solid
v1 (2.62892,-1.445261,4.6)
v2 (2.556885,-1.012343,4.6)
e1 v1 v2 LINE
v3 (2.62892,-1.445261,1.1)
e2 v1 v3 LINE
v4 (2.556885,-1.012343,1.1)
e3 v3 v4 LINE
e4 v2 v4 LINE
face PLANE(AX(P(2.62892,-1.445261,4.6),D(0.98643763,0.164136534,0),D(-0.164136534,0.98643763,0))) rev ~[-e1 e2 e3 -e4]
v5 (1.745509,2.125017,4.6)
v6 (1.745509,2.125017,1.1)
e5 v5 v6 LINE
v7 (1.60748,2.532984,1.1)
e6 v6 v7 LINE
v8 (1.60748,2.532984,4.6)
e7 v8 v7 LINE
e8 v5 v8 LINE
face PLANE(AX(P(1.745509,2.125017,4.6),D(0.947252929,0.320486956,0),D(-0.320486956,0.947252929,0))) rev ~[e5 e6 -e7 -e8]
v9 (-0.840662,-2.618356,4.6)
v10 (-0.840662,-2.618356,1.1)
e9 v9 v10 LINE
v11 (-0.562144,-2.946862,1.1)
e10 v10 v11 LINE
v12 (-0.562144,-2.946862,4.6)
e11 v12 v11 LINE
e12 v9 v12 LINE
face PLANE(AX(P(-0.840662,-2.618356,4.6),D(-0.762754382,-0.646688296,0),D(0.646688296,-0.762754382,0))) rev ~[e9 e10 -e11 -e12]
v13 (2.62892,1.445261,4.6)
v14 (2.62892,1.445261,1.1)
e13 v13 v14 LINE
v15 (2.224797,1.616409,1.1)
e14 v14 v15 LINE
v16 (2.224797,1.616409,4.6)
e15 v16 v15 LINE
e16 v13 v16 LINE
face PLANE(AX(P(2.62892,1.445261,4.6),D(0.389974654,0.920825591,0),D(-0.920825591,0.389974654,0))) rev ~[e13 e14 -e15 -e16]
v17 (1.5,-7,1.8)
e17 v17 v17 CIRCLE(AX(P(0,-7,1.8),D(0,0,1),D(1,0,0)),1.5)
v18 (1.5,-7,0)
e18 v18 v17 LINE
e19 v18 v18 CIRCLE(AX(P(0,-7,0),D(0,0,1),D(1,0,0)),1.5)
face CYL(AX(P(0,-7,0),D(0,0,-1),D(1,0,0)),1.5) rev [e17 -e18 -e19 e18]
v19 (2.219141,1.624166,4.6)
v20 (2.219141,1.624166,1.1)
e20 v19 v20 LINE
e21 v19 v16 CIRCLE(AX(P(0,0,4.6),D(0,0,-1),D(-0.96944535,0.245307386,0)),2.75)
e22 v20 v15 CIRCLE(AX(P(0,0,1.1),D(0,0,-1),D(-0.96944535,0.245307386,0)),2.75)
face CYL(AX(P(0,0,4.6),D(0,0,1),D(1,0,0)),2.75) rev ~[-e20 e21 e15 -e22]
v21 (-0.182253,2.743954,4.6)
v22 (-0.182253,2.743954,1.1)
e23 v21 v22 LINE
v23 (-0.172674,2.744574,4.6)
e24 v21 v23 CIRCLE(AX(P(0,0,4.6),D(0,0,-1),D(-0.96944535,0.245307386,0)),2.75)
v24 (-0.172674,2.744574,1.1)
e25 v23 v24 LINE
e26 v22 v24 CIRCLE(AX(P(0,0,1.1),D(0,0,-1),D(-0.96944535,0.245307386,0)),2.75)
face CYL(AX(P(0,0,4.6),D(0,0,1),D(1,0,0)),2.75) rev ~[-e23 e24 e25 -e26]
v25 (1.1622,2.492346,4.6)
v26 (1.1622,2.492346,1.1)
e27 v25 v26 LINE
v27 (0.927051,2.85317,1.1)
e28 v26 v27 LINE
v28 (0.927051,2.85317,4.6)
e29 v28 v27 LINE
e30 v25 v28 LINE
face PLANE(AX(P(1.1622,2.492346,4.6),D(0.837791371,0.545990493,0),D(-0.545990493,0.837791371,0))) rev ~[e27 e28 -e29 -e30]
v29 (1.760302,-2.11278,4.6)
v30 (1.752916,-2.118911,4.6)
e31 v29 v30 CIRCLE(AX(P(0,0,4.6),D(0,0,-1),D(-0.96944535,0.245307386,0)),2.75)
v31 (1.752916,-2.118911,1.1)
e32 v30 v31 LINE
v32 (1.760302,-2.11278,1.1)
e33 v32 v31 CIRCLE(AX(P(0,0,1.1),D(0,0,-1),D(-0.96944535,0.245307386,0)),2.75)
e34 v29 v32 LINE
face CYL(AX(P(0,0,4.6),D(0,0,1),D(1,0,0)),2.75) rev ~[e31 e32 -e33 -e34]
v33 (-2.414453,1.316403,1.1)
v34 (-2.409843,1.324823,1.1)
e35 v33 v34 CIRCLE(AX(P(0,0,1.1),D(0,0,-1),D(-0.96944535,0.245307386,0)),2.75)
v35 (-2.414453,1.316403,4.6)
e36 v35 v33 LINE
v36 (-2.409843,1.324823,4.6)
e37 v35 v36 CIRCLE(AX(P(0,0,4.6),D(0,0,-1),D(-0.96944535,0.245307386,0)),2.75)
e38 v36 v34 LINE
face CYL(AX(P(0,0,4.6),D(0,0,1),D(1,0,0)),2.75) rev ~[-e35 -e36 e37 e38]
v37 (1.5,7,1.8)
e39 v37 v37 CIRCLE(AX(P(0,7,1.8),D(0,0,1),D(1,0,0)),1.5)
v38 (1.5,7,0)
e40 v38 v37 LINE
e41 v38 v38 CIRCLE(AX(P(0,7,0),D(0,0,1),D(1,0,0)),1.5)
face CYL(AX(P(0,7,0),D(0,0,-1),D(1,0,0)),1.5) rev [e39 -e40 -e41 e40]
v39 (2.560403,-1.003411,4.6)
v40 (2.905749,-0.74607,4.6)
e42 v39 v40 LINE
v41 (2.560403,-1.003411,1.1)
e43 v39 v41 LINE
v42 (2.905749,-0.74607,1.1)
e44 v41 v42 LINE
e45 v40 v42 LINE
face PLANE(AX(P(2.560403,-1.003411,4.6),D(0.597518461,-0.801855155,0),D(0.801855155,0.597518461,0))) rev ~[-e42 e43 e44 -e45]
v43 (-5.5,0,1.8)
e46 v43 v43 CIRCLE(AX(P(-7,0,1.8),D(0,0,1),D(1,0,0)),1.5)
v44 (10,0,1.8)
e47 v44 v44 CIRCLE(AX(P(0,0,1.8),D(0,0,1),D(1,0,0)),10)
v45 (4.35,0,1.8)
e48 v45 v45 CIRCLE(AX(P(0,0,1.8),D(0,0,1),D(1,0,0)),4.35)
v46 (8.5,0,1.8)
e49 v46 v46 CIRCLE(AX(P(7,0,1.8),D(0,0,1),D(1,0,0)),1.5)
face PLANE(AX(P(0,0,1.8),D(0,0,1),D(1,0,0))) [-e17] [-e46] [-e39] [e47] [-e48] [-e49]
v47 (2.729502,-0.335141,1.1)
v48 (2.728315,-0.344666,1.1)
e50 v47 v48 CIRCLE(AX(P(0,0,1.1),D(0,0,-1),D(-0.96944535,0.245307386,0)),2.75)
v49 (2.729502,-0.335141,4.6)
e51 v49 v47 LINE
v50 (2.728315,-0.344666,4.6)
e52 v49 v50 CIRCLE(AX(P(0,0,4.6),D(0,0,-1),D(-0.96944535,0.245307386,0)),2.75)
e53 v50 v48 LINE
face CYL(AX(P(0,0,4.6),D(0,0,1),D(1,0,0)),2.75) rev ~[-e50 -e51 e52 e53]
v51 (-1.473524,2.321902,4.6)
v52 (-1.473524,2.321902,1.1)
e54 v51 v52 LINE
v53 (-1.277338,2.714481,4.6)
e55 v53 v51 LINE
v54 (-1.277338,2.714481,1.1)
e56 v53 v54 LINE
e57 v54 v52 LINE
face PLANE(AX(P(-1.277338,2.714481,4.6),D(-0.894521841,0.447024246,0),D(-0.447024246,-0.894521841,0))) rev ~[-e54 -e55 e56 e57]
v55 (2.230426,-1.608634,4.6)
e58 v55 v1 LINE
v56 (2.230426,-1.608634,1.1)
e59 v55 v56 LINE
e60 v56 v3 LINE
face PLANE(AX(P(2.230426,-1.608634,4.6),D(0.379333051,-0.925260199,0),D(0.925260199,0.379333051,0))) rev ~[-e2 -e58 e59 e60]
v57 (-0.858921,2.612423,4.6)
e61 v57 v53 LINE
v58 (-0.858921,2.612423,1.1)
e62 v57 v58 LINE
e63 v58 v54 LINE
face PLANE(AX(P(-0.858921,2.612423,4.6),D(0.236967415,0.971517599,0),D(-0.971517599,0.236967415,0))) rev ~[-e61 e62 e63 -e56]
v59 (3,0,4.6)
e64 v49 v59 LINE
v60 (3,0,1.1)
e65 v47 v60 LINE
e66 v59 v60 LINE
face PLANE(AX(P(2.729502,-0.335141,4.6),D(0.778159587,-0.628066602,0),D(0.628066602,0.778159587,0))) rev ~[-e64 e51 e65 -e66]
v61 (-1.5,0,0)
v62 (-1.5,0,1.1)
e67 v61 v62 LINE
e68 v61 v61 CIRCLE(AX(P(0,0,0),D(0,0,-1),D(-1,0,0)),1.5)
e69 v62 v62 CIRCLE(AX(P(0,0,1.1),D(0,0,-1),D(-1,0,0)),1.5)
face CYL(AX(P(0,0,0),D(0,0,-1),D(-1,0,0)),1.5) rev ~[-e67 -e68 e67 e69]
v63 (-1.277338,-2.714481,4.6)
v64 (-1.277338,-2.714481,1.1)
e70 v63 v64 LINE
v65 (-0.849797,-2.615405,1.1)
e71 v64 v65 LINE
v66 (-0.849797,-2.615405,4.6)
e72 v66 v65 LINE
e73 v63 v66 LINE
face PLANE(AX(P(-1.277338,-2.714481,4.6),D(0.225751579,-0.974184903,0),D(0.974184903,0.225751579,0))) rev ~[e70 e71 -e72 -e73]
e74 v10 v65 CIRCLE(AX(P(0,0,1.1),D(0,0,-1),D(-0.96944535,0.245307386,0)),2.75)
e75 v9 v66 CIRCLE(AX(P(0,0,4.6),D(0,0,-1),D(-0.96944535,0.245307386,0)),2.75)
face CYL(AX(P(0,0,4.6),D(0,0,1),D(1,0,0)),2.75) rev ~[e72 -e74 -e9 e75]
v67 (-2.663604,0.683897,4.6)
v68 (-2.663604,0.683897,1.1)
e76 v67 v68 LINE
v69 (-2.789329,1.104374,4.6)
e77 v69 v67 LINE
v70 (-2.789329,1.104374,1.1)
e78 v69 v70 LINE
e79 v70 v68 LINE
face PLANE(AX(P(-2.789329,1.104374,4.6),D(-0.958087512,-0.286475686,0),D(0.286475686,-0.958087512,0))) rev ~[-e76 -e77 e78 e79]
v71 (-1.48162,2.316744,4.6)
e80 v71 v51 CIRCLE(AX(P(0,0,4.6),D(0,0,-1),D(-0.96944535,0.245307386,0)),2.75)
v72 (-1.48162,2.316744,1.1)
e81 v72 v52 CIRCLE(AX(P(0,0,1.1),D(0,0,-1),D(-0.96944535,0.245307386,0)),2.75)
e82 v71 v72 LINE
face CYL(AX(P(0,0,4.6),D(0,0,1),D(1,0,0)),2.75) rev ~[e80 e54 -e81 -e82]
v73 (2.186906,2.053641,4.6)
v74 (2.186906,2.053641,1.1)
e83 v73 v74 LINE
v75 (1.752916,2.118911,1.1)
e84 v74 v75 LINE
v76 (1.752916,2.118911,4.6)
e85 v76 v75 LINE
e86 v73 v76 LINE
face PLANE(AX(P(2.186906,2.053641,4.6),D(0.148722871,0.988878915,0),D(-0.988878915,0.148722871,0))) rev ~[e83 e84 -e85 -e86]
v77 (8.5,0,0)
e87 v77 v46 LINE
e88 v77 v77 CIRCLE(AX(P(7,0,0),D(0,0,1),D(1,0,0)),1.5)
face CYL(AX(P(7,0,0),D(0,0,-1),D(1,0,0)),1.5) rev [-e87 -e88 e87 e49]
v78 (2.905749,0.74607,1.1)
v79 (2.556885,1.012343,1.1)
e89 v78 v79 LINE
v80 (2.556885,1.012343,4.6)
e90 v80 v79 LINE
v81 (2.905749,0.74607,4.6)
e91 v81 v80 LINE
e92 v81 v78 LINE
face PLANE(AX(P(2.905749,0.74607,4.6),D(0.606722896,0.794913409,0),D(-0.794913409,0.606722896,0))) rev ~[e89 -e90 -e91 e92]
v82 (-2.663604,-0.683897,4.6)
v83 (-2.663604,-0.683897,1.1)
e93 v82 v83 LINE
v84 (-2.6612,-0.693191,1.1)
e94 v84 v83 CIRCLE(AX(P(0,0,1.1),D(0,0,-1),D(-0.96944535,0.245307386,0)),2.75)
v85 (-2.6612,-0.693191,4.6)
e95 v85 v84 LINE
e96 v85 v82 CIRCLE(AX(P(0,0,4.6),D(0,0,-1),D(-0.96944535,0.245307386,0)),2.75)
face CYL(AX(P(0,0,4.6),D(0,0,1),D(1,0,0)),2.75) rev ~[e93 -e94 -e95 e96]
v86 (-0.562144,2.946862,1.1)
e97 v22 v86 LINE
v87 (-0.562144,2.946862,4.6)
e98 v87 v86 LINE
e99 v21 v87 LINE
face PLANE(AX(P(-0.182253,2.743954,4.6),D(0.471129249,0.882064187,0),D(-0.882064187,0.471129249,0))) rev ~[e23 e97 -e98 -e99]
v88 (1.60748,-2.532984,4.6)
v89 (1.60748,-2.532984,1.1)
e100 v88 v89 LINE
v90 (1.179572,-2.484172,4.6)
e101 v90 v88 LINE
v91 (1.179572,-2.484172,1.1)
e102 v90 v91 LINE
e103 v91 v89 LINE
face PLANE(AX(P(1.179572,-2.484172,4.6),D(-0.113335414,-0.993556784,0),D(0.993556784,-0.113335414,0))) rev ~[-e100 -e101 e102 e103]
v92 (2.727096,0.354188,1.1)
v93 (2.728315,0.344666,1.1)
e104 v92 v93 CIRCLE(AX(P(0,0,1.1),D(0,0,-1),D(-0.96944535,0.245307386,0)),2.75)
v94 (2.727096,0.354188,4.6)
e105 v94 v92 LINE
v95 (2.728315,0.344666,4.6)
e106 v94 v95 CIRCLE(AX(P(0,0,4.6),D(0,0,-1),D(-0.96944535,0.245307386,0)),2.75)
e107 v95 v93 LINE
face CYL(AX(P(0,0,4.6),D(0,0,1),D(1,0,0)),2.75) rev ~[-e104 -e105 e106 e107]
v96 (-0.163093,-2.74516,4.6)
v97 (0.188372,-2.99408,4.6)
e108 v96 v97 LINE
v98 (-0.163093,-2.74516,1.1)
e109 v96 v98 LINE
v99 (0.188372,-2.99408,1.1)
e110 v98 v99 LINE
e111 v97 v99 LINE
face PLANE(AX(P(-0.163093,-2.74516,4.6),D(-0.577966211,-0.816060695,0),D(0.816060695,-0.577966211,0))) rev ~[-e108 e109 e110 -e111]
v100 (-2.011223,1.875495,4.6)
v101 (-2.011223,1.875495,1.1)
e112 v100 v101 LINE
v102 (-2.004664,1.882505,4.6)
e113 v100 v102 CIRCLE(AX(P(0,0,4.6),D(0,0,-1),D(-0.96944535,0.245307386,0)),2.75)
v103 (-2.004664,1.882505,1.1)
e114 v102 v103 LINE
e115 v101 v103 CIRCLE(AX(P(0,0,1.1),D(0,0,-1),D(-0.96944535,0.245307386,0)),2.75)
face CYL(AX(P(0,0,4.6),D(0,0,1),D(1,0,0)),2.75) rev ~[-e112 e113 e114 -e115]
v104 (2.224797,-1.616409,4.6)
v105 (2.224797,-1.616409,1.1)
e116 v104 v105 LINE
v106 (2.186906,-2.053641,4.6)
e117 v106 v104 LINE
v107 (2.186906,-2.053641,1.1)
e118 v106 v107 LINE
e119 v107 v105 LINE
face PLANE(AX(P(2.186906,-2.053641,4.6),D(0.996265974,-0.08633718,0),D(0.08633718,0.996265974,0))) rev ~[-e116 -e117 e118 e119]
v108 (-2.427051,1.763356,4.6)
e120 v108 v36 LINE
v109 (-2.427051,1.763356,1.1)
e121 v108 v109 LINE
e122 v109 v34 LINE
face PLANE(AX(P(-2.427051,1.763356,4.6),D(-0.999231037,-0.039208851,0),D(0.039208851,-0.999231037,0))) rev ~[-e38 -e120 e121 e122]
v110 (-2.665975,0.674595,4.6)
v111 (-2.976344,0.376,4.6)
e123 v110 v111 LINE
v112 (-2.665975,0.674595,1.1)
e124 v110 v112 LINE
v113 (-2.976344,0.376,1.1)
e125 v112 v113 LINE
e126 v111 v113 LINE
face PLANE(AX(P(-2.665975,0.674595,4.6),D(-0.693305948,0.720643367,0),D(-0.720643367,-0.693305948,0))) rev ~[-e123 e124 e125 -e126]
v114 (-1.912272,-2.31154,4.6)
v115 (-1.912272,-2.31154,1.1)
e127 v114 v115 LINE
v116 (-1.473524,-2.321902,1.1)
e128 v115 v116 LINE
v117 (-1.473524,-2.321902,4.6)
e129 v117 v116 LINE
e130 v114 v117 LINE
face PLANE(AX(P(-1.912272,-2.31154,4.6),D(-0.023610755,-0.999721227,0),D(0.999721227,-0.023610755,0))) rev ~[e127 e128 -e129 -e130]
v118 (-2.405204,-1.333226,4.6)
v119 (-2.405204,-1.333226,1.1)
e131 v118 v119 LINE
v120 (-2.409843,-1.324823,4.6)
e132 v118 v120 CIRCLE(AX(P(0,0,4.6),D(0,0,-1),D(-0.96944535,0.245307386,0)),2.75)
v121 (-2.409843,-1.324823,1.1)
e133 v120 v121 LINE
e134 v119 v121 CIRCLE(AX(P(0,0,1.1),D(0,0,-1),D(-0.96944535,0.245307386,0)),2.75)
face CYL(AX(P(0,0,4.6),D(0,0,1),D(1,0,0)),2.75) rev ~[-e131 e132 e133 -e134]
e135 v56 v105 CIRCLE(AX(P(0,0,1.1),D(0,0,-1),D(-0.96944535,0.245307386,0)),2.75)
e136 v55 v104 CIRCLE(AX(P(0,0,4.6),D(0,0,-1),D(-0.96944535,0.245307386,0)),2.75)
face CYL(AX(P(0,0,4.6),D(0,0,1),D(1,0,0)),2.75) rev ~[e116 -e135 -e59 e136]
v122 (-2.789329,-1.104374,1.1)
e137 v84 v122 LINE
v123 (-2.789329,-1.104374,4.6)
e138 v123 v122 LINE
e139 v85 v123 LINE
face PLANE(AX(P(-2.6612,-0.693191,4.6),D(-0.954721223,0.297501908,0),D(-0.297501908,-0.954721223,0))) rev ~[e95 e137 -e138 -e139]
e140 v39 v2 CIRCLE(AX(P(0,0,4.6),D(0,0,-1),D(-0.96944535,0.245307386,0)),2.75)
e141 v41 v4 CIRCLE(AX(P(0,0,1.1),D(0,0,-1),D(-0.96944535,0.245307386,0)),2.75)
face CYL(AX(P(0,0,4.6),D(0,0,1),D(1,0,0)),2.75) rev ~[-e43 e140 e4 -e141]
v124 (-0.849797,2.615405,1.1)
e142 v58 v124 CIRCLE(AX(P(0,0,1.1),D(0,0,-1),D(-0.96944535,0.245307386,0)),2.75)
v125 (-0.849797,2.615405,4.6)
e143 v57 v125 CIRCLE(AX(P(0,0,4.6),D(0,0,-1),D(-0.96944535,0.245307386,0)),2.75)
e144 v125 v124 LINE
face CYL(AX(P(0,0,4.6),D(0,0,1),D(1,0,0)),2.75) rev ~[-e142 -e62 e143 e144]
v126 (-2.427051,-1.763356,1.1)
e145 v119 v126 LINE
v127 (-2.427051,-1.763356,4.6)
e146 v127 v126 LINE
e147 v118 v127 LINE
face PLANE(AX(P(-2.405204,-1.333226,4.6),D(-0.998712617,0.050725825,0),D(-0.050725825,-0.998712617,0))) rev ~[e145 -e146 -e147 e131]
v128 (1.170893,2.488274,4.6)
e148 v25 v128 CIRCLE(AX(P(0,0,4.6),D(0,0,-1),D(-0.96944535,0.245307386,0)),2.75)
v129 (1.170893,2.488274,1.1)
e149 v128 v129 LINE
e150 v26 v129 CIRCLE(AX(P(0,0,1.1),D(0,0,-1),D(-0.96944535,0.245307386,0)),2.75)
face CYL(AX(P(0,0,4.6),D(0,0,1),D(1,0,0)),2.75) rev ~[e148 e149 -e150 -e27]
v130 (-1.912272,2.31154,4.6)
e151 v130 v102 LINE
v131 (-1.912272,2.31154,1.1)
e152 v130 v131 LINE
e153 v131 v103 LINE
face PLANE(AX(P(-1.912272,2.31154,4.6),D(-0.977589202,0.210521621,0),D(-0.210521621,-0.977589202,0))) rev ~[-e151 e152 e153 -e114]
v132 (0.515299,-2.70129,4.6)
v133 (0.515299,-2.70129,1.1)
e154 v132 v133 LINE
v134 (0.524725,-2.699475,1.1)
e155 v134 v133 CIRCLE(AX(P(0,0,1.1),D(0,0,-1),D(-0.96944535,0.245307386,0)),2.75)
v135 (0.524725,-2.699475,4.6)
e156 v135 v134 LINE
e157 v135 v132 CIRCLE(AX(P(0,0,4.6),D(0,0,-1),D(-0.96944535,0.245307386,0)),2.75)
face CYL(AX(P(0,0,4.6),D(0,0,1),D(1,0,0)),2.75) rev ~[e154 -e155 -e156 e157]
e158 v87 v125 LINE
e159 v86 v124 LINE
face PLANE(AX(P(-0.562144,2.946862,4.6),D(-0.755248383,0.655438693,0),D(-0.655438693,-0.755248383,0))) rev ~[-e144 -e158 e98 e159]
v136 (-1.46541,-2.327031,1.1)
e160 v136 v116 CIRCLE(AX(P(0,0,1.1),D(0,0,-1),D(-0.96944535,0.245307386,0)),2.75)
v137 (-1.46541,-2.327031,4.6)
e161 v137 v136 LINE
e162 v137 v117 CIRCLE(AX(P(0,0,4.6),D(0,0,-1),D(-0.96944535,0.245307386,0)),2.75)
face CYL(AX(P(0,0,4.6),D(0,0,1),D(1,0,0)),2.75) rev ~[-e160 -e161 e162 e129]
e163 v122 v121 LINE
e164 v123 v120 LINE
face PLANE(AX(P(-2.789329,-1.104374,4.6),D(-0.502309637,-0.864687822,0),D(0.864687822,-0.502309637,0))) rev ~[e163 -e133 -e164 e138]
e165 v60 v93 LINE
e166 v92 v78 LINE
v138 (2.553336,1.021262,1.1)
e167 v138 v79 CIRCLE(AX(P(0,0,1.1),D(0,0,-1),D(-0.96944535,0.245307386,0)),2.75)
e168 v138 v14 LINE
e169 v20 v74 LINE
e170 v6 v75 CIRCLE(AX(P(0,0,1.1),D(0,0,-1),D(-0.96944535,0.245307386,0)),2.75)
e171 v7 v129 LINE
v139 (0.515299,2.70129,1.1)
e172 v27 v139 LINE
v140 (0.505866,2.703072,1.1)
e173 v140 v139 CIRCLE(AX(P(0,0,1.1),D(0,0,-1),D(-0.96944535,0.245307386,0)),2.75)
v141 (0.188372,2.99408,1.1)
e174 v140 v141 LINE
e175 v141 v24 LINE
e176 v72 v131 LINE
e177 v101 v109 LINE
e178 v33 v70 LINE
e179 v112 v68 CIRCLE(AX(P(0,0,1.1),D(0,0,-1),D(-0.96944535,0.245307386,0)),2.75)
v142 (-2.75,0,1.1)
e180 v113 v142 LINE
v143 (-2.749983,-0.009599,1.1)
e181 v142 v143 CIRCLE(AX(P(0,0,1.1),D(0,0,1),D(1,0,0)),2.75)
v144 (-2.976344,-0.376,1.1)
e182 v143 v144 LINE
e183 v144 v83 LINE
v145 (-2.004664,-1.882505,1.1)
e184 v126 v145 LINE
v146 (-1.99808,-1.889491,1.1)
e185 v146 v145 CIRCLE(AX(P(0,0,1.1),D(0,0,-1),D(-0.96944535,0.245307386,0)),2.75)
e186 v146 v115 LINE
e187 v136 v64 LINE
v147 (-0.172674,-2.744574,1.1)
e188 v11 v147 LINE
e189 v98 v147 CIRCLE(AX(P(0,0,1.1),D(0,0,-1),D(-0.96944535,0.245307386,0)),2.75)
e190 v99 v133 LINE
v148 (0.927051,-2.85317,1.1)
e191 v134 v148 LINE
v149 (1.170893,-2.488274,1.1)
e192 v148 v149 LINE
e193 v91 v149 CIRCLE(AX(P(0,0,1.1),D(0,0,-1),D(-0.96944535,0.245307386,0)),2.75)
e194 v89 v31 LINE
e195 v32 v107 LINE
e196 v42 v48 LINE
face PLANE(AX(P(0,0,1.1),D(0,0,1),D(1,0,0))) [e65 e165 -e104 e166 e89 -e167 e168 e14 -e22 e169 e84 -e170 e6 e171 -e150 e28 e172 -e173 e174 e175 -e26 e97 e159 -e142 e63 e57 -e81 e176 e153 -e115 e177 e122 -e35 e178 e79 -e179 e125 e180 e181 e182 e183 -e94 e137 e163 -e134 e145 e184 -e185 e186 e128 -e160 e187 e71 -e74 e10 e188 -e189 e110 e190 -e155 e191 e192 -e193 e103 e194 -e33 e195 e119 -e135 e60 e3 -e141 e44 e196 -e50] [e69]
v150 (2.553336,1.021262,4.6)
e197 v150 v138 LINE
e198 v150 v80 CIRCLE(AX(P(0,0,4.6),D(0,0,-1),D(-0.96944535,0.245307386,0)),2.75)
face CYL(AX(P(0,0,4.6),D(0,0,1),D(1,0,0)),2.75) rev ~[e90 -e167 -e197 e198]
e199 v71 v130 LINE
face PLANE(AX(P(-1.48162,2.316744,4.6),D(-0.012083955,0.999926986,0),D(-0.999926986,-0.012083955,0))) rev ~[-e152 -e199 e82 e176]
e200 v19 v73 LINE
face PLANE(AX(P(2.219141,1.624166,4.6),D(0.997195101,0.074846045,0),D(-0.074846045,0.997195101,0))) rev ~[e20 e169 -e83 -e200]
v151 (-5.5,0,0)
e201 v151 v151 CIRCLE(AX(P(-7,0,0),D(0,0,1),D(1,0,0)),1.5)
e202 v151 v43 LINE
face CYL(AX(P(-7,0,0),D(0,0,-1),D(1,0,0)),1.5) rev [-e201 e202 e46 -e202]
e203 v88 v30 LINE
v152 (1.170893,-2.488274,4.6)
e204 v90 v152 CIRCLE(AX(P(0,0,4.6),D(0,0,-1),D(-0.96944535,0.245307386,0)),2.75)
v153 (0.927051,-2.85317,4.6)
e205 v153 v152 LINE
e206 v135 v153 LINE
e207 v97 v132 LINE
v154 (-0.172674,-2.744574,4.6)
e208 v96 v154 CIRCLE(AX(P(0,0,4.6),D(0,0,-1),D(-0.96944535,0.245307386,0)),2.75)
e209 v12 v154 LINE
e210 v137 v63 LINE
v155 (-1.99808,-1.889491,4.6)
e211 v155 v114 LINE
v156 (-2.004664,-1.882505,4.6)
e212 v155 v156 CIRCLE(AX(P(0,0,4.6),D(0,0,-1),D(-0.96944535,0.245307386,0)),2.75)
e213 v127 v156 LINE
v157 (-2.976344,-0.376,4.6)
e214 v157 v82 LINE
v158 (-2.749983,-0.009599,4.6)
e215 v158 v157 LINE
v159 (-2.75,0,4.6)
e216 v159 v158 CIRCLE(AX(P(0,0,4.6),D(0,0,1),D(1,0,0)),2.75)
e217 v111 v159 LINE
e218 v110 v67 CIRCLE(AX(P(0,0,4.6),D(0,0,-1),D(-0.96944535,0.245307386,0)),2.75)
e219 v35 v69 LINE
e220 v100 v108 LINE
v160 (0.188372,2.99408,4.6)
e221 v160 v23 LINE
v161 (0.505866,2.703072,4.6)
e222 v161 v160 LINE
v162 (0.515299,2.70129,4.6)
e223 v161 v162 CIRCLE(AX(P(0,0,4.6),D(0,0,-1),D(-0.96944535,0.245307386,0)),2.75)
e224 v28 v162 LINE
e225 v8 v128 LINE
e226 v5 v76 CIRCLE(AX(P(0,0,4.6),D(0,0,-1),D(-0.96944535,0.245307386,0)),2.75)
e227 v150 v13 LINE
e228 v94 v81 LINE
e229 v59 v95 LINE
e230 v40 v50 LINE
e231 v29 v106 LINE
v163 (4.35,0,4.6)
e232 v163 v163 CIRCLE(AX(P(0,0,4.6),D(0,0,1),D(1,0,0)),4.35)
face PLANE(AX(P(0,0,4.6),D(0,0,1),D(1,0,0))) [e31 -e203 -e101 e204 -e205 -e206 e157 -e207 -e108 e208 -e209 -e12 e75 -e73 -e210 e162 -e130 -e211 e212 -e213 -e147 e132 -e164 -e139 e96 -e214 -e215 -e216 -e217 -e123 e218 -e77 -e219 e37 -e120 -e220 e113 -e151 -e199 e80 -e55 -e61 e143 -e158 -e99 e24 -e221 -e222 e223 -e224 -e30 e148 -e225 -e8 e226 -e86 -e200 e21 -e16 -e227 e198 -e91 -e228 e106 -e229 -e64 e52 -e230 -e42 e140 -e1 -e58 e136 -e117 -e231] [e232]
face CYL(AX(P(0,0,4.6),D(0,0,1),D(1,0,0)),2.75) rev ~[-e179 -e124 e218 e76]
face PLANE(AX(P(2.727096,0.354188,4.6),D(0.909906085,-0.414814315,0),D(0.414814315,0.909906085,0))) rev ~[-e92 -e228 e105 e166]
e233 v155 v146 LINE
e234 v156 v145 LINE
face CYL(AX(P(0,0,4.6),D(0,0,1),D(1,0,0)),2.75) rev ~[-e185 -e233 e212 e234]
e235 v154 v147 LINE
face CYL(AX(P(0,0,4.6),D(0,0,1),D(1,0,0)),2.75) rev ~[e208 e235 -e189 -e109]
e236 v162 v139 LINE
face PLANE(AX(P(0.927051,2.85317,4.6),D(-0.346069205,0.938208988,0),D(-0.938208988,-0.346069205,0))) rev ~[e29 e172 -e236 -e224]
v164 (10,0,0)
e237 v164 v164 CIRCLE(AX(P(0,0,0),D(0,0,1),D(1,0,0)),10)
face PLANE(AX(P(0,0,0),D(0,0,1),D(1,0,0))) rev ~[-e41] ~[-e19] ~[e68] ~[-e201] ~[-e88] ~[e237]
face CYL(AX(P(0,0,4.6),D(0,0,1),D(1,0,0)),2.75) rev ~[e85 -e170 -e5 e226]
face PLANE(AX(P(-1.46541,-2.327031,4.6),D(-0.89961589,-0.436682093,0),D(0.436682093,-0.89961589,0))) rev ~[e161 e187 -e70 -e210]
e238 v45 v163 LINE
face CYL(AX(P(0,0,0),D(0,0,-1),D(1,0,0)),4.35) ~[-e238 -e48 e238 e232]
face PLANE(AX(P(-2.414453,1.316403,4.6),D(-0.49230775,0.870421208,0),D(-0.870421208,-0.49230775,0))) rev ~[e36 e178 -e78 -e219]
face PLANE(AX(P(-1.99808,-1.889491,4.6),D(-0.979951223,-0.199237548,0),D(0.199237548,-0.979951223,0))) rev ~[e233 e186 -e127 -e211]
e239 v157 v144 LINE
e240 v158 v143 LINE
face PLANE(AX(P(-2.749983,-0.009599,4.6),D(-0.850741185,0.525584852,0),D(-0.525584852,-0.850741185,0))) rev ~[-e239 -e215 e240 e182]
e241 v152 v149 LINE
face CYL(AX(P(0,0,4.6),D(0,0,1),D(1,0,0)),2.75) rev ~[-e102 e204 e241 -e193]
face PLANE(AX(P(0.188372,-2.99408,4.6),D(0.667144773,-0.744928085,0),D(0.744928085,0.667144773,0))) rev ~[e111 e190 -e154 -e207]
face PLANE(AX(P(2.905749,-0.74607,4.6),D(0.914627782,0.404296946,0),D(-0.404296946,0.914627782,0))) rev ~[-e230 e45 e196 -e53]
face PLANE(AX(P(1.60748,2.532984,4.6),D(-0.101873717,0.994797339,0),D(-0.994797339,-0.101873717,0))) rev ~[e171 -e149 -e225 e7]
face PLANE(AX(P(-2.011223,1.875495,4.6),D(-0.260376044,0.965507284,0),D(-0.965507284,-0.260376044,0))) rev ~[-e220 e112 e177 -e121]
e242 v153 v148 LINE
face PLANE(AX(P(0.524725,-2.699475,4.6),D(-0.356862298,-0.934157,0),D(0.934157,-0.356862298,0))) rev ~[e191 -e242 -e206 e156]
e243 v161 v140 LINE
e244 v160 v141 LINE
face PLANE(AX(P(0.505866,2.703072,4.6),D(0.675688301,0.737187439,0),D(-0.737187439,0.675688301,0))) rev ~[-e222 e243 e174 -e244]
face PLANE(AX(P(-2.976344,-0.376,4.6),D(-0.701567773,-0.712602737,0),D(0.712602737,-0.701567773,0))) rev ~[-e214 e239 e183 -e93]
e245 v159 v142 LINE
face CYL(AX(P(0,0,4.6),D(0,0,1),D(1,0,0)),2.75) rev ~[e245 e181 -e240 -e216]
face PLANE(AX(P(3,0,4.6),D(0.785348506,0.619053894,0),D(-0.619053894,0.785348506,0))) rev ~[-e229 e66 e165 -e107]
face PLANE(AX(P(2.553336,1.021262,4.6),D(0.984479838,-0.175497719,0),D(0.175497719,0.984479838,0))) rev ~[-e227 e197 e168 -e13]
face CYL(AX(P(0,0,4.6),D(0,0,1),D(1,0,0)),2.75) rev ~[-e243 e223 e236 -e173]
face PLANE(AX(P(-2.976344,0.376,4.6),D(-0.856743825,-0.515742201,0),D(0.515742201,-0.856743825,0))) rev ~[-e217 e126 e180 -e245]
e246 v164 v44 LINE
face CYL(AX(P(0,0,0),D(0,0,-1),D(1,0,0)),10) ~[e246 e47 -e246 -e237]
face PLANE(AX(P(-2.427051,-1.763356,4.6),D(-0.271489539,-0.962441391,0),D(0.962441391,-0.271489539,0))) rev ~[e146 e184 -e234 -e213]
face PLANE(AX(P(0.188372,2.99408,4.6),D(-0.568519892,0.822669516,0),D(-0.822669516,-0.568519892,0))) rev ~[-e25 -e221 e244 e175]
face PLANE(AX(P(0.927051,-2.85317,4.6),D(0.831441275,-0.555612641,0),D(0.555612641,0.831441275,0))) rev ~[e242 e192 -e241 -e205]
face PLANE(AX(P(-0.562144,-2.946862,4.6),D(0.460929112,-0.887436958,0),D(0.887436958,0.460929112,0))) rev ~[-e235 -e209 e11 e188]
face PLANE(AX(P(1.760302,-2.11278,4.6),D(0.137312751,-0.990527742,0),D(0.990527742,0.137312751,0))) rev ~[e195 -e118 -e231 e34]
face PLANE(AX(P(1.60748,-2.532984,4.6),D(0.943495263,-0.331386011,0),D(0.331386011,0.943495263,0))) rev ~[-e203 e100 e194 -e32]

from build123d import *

# Parameters (mm, degrees)
SKETCH1_R           = 10
SKETCH1_R_2         = 1.5
SKETCH1_R_3         = 4.35
BOSS_EXTRUDE1_DEPTH = 1.8
SKETCH1_2_R         = 4.35
BOSS_EXTRUDE2_DEPTH = 4.6
SKETCH2_R           = 1.5
CUT_EXTRUDE1_DEPTH  = 4.5
SKETCH3_R           = 2.75
CUT_EXTRUDE2_DEPTH  = 3.5
CUT_EXTRUDE3_DEPTH  = 3.5
CIRPATTERN1_COUNT   = 25


with BuildPart() as part:
    # Sketch1 → Boss-Extrude1 (new body)
    with BuildSketch(Plane.XY):
        Circle(SKETCH1_R)
        with Locations((0, 7)):
            Circle(SKETCH1_R_2, mode=Mode.SUBTRACT)
        with Locations((7, 0)):
            Circle(SKETCH1_R_2, mode=Mode.SUBTRACT)
        with Locations((0, -7)):
            Circle(SKETCH1_R_2, mode=Mode.SUBTRACT)
        with Locations((-7, 0)):
            Circle(SKETCH1_R_2, mode=Mode.SUBTRACT)
        Circle(SKETCH1_R_3, mode=Mode.SUBTRACT)
    extrude(amount=BOSS_EXTRUDE1_DEPTH)

    # Sketch1<2> → Boss-Extrude2 (add)
    with BuildSketch(Plane.XY):
        Circle(SKETCH1_2_R)
    extrude(amount=BOSS_EXTRUDE2_DEPTH)

    # Sketch2 → Cut-Extrude1 (cut)
    with BuildSketch(Plane(origin=(0, 0, 0), x_dir=(-1, 0, 0), z_dir=(0, 0, -1))):
        Circle(SKETCH2_R)
    extrude(amount=-CUT_EXTRUDE1_DEPTH, mode=Mode.SUBTRACT)

    # Sketch3 → Cut-Extrude2 (cut)
    with BuildSketch(Plane.XY.offset(4.6)):
        Circle(SKETCH3_R)
    extrude(amount=-CUT_EXTRUDE2_DEPTH, mode=Mode.SUBTRACT)

    # Sketch4 → Cut-Extrude3 (cut)
    with BuildSketch(Plane.XY.offset(4.6)):
        with BuildLine():
            Line((-2.976344104, 0.375999701), (-2.75, 0))
            ThreePointArc((-2.75, 0), (-2.728912829, 0.339904061), (-2.665974712, 0.674595311))
            Line((-2.665974712, 0.674595311), (-2.976344104, 0.375999701))
        make_face()
    cut_extrude3 = extrude(amount=-CUT_EXTRUDE3_DEPTH, mode=Mode.SUBTRACT)

    # CirPattern1: Cut-Extrude3 ×25 about axis
    cirpattern1_axis = Axis((0, 0, 4.5), (0, 0, -1))
    for i in range(1, CIRPATTERN1_COUNT):
        add(cut_extrude3.rotate(cirpattern1_axis, i * 360 / CIRPATTERN1_COUNT), mode=Mode.SUBTRACT)


solid = part.part
